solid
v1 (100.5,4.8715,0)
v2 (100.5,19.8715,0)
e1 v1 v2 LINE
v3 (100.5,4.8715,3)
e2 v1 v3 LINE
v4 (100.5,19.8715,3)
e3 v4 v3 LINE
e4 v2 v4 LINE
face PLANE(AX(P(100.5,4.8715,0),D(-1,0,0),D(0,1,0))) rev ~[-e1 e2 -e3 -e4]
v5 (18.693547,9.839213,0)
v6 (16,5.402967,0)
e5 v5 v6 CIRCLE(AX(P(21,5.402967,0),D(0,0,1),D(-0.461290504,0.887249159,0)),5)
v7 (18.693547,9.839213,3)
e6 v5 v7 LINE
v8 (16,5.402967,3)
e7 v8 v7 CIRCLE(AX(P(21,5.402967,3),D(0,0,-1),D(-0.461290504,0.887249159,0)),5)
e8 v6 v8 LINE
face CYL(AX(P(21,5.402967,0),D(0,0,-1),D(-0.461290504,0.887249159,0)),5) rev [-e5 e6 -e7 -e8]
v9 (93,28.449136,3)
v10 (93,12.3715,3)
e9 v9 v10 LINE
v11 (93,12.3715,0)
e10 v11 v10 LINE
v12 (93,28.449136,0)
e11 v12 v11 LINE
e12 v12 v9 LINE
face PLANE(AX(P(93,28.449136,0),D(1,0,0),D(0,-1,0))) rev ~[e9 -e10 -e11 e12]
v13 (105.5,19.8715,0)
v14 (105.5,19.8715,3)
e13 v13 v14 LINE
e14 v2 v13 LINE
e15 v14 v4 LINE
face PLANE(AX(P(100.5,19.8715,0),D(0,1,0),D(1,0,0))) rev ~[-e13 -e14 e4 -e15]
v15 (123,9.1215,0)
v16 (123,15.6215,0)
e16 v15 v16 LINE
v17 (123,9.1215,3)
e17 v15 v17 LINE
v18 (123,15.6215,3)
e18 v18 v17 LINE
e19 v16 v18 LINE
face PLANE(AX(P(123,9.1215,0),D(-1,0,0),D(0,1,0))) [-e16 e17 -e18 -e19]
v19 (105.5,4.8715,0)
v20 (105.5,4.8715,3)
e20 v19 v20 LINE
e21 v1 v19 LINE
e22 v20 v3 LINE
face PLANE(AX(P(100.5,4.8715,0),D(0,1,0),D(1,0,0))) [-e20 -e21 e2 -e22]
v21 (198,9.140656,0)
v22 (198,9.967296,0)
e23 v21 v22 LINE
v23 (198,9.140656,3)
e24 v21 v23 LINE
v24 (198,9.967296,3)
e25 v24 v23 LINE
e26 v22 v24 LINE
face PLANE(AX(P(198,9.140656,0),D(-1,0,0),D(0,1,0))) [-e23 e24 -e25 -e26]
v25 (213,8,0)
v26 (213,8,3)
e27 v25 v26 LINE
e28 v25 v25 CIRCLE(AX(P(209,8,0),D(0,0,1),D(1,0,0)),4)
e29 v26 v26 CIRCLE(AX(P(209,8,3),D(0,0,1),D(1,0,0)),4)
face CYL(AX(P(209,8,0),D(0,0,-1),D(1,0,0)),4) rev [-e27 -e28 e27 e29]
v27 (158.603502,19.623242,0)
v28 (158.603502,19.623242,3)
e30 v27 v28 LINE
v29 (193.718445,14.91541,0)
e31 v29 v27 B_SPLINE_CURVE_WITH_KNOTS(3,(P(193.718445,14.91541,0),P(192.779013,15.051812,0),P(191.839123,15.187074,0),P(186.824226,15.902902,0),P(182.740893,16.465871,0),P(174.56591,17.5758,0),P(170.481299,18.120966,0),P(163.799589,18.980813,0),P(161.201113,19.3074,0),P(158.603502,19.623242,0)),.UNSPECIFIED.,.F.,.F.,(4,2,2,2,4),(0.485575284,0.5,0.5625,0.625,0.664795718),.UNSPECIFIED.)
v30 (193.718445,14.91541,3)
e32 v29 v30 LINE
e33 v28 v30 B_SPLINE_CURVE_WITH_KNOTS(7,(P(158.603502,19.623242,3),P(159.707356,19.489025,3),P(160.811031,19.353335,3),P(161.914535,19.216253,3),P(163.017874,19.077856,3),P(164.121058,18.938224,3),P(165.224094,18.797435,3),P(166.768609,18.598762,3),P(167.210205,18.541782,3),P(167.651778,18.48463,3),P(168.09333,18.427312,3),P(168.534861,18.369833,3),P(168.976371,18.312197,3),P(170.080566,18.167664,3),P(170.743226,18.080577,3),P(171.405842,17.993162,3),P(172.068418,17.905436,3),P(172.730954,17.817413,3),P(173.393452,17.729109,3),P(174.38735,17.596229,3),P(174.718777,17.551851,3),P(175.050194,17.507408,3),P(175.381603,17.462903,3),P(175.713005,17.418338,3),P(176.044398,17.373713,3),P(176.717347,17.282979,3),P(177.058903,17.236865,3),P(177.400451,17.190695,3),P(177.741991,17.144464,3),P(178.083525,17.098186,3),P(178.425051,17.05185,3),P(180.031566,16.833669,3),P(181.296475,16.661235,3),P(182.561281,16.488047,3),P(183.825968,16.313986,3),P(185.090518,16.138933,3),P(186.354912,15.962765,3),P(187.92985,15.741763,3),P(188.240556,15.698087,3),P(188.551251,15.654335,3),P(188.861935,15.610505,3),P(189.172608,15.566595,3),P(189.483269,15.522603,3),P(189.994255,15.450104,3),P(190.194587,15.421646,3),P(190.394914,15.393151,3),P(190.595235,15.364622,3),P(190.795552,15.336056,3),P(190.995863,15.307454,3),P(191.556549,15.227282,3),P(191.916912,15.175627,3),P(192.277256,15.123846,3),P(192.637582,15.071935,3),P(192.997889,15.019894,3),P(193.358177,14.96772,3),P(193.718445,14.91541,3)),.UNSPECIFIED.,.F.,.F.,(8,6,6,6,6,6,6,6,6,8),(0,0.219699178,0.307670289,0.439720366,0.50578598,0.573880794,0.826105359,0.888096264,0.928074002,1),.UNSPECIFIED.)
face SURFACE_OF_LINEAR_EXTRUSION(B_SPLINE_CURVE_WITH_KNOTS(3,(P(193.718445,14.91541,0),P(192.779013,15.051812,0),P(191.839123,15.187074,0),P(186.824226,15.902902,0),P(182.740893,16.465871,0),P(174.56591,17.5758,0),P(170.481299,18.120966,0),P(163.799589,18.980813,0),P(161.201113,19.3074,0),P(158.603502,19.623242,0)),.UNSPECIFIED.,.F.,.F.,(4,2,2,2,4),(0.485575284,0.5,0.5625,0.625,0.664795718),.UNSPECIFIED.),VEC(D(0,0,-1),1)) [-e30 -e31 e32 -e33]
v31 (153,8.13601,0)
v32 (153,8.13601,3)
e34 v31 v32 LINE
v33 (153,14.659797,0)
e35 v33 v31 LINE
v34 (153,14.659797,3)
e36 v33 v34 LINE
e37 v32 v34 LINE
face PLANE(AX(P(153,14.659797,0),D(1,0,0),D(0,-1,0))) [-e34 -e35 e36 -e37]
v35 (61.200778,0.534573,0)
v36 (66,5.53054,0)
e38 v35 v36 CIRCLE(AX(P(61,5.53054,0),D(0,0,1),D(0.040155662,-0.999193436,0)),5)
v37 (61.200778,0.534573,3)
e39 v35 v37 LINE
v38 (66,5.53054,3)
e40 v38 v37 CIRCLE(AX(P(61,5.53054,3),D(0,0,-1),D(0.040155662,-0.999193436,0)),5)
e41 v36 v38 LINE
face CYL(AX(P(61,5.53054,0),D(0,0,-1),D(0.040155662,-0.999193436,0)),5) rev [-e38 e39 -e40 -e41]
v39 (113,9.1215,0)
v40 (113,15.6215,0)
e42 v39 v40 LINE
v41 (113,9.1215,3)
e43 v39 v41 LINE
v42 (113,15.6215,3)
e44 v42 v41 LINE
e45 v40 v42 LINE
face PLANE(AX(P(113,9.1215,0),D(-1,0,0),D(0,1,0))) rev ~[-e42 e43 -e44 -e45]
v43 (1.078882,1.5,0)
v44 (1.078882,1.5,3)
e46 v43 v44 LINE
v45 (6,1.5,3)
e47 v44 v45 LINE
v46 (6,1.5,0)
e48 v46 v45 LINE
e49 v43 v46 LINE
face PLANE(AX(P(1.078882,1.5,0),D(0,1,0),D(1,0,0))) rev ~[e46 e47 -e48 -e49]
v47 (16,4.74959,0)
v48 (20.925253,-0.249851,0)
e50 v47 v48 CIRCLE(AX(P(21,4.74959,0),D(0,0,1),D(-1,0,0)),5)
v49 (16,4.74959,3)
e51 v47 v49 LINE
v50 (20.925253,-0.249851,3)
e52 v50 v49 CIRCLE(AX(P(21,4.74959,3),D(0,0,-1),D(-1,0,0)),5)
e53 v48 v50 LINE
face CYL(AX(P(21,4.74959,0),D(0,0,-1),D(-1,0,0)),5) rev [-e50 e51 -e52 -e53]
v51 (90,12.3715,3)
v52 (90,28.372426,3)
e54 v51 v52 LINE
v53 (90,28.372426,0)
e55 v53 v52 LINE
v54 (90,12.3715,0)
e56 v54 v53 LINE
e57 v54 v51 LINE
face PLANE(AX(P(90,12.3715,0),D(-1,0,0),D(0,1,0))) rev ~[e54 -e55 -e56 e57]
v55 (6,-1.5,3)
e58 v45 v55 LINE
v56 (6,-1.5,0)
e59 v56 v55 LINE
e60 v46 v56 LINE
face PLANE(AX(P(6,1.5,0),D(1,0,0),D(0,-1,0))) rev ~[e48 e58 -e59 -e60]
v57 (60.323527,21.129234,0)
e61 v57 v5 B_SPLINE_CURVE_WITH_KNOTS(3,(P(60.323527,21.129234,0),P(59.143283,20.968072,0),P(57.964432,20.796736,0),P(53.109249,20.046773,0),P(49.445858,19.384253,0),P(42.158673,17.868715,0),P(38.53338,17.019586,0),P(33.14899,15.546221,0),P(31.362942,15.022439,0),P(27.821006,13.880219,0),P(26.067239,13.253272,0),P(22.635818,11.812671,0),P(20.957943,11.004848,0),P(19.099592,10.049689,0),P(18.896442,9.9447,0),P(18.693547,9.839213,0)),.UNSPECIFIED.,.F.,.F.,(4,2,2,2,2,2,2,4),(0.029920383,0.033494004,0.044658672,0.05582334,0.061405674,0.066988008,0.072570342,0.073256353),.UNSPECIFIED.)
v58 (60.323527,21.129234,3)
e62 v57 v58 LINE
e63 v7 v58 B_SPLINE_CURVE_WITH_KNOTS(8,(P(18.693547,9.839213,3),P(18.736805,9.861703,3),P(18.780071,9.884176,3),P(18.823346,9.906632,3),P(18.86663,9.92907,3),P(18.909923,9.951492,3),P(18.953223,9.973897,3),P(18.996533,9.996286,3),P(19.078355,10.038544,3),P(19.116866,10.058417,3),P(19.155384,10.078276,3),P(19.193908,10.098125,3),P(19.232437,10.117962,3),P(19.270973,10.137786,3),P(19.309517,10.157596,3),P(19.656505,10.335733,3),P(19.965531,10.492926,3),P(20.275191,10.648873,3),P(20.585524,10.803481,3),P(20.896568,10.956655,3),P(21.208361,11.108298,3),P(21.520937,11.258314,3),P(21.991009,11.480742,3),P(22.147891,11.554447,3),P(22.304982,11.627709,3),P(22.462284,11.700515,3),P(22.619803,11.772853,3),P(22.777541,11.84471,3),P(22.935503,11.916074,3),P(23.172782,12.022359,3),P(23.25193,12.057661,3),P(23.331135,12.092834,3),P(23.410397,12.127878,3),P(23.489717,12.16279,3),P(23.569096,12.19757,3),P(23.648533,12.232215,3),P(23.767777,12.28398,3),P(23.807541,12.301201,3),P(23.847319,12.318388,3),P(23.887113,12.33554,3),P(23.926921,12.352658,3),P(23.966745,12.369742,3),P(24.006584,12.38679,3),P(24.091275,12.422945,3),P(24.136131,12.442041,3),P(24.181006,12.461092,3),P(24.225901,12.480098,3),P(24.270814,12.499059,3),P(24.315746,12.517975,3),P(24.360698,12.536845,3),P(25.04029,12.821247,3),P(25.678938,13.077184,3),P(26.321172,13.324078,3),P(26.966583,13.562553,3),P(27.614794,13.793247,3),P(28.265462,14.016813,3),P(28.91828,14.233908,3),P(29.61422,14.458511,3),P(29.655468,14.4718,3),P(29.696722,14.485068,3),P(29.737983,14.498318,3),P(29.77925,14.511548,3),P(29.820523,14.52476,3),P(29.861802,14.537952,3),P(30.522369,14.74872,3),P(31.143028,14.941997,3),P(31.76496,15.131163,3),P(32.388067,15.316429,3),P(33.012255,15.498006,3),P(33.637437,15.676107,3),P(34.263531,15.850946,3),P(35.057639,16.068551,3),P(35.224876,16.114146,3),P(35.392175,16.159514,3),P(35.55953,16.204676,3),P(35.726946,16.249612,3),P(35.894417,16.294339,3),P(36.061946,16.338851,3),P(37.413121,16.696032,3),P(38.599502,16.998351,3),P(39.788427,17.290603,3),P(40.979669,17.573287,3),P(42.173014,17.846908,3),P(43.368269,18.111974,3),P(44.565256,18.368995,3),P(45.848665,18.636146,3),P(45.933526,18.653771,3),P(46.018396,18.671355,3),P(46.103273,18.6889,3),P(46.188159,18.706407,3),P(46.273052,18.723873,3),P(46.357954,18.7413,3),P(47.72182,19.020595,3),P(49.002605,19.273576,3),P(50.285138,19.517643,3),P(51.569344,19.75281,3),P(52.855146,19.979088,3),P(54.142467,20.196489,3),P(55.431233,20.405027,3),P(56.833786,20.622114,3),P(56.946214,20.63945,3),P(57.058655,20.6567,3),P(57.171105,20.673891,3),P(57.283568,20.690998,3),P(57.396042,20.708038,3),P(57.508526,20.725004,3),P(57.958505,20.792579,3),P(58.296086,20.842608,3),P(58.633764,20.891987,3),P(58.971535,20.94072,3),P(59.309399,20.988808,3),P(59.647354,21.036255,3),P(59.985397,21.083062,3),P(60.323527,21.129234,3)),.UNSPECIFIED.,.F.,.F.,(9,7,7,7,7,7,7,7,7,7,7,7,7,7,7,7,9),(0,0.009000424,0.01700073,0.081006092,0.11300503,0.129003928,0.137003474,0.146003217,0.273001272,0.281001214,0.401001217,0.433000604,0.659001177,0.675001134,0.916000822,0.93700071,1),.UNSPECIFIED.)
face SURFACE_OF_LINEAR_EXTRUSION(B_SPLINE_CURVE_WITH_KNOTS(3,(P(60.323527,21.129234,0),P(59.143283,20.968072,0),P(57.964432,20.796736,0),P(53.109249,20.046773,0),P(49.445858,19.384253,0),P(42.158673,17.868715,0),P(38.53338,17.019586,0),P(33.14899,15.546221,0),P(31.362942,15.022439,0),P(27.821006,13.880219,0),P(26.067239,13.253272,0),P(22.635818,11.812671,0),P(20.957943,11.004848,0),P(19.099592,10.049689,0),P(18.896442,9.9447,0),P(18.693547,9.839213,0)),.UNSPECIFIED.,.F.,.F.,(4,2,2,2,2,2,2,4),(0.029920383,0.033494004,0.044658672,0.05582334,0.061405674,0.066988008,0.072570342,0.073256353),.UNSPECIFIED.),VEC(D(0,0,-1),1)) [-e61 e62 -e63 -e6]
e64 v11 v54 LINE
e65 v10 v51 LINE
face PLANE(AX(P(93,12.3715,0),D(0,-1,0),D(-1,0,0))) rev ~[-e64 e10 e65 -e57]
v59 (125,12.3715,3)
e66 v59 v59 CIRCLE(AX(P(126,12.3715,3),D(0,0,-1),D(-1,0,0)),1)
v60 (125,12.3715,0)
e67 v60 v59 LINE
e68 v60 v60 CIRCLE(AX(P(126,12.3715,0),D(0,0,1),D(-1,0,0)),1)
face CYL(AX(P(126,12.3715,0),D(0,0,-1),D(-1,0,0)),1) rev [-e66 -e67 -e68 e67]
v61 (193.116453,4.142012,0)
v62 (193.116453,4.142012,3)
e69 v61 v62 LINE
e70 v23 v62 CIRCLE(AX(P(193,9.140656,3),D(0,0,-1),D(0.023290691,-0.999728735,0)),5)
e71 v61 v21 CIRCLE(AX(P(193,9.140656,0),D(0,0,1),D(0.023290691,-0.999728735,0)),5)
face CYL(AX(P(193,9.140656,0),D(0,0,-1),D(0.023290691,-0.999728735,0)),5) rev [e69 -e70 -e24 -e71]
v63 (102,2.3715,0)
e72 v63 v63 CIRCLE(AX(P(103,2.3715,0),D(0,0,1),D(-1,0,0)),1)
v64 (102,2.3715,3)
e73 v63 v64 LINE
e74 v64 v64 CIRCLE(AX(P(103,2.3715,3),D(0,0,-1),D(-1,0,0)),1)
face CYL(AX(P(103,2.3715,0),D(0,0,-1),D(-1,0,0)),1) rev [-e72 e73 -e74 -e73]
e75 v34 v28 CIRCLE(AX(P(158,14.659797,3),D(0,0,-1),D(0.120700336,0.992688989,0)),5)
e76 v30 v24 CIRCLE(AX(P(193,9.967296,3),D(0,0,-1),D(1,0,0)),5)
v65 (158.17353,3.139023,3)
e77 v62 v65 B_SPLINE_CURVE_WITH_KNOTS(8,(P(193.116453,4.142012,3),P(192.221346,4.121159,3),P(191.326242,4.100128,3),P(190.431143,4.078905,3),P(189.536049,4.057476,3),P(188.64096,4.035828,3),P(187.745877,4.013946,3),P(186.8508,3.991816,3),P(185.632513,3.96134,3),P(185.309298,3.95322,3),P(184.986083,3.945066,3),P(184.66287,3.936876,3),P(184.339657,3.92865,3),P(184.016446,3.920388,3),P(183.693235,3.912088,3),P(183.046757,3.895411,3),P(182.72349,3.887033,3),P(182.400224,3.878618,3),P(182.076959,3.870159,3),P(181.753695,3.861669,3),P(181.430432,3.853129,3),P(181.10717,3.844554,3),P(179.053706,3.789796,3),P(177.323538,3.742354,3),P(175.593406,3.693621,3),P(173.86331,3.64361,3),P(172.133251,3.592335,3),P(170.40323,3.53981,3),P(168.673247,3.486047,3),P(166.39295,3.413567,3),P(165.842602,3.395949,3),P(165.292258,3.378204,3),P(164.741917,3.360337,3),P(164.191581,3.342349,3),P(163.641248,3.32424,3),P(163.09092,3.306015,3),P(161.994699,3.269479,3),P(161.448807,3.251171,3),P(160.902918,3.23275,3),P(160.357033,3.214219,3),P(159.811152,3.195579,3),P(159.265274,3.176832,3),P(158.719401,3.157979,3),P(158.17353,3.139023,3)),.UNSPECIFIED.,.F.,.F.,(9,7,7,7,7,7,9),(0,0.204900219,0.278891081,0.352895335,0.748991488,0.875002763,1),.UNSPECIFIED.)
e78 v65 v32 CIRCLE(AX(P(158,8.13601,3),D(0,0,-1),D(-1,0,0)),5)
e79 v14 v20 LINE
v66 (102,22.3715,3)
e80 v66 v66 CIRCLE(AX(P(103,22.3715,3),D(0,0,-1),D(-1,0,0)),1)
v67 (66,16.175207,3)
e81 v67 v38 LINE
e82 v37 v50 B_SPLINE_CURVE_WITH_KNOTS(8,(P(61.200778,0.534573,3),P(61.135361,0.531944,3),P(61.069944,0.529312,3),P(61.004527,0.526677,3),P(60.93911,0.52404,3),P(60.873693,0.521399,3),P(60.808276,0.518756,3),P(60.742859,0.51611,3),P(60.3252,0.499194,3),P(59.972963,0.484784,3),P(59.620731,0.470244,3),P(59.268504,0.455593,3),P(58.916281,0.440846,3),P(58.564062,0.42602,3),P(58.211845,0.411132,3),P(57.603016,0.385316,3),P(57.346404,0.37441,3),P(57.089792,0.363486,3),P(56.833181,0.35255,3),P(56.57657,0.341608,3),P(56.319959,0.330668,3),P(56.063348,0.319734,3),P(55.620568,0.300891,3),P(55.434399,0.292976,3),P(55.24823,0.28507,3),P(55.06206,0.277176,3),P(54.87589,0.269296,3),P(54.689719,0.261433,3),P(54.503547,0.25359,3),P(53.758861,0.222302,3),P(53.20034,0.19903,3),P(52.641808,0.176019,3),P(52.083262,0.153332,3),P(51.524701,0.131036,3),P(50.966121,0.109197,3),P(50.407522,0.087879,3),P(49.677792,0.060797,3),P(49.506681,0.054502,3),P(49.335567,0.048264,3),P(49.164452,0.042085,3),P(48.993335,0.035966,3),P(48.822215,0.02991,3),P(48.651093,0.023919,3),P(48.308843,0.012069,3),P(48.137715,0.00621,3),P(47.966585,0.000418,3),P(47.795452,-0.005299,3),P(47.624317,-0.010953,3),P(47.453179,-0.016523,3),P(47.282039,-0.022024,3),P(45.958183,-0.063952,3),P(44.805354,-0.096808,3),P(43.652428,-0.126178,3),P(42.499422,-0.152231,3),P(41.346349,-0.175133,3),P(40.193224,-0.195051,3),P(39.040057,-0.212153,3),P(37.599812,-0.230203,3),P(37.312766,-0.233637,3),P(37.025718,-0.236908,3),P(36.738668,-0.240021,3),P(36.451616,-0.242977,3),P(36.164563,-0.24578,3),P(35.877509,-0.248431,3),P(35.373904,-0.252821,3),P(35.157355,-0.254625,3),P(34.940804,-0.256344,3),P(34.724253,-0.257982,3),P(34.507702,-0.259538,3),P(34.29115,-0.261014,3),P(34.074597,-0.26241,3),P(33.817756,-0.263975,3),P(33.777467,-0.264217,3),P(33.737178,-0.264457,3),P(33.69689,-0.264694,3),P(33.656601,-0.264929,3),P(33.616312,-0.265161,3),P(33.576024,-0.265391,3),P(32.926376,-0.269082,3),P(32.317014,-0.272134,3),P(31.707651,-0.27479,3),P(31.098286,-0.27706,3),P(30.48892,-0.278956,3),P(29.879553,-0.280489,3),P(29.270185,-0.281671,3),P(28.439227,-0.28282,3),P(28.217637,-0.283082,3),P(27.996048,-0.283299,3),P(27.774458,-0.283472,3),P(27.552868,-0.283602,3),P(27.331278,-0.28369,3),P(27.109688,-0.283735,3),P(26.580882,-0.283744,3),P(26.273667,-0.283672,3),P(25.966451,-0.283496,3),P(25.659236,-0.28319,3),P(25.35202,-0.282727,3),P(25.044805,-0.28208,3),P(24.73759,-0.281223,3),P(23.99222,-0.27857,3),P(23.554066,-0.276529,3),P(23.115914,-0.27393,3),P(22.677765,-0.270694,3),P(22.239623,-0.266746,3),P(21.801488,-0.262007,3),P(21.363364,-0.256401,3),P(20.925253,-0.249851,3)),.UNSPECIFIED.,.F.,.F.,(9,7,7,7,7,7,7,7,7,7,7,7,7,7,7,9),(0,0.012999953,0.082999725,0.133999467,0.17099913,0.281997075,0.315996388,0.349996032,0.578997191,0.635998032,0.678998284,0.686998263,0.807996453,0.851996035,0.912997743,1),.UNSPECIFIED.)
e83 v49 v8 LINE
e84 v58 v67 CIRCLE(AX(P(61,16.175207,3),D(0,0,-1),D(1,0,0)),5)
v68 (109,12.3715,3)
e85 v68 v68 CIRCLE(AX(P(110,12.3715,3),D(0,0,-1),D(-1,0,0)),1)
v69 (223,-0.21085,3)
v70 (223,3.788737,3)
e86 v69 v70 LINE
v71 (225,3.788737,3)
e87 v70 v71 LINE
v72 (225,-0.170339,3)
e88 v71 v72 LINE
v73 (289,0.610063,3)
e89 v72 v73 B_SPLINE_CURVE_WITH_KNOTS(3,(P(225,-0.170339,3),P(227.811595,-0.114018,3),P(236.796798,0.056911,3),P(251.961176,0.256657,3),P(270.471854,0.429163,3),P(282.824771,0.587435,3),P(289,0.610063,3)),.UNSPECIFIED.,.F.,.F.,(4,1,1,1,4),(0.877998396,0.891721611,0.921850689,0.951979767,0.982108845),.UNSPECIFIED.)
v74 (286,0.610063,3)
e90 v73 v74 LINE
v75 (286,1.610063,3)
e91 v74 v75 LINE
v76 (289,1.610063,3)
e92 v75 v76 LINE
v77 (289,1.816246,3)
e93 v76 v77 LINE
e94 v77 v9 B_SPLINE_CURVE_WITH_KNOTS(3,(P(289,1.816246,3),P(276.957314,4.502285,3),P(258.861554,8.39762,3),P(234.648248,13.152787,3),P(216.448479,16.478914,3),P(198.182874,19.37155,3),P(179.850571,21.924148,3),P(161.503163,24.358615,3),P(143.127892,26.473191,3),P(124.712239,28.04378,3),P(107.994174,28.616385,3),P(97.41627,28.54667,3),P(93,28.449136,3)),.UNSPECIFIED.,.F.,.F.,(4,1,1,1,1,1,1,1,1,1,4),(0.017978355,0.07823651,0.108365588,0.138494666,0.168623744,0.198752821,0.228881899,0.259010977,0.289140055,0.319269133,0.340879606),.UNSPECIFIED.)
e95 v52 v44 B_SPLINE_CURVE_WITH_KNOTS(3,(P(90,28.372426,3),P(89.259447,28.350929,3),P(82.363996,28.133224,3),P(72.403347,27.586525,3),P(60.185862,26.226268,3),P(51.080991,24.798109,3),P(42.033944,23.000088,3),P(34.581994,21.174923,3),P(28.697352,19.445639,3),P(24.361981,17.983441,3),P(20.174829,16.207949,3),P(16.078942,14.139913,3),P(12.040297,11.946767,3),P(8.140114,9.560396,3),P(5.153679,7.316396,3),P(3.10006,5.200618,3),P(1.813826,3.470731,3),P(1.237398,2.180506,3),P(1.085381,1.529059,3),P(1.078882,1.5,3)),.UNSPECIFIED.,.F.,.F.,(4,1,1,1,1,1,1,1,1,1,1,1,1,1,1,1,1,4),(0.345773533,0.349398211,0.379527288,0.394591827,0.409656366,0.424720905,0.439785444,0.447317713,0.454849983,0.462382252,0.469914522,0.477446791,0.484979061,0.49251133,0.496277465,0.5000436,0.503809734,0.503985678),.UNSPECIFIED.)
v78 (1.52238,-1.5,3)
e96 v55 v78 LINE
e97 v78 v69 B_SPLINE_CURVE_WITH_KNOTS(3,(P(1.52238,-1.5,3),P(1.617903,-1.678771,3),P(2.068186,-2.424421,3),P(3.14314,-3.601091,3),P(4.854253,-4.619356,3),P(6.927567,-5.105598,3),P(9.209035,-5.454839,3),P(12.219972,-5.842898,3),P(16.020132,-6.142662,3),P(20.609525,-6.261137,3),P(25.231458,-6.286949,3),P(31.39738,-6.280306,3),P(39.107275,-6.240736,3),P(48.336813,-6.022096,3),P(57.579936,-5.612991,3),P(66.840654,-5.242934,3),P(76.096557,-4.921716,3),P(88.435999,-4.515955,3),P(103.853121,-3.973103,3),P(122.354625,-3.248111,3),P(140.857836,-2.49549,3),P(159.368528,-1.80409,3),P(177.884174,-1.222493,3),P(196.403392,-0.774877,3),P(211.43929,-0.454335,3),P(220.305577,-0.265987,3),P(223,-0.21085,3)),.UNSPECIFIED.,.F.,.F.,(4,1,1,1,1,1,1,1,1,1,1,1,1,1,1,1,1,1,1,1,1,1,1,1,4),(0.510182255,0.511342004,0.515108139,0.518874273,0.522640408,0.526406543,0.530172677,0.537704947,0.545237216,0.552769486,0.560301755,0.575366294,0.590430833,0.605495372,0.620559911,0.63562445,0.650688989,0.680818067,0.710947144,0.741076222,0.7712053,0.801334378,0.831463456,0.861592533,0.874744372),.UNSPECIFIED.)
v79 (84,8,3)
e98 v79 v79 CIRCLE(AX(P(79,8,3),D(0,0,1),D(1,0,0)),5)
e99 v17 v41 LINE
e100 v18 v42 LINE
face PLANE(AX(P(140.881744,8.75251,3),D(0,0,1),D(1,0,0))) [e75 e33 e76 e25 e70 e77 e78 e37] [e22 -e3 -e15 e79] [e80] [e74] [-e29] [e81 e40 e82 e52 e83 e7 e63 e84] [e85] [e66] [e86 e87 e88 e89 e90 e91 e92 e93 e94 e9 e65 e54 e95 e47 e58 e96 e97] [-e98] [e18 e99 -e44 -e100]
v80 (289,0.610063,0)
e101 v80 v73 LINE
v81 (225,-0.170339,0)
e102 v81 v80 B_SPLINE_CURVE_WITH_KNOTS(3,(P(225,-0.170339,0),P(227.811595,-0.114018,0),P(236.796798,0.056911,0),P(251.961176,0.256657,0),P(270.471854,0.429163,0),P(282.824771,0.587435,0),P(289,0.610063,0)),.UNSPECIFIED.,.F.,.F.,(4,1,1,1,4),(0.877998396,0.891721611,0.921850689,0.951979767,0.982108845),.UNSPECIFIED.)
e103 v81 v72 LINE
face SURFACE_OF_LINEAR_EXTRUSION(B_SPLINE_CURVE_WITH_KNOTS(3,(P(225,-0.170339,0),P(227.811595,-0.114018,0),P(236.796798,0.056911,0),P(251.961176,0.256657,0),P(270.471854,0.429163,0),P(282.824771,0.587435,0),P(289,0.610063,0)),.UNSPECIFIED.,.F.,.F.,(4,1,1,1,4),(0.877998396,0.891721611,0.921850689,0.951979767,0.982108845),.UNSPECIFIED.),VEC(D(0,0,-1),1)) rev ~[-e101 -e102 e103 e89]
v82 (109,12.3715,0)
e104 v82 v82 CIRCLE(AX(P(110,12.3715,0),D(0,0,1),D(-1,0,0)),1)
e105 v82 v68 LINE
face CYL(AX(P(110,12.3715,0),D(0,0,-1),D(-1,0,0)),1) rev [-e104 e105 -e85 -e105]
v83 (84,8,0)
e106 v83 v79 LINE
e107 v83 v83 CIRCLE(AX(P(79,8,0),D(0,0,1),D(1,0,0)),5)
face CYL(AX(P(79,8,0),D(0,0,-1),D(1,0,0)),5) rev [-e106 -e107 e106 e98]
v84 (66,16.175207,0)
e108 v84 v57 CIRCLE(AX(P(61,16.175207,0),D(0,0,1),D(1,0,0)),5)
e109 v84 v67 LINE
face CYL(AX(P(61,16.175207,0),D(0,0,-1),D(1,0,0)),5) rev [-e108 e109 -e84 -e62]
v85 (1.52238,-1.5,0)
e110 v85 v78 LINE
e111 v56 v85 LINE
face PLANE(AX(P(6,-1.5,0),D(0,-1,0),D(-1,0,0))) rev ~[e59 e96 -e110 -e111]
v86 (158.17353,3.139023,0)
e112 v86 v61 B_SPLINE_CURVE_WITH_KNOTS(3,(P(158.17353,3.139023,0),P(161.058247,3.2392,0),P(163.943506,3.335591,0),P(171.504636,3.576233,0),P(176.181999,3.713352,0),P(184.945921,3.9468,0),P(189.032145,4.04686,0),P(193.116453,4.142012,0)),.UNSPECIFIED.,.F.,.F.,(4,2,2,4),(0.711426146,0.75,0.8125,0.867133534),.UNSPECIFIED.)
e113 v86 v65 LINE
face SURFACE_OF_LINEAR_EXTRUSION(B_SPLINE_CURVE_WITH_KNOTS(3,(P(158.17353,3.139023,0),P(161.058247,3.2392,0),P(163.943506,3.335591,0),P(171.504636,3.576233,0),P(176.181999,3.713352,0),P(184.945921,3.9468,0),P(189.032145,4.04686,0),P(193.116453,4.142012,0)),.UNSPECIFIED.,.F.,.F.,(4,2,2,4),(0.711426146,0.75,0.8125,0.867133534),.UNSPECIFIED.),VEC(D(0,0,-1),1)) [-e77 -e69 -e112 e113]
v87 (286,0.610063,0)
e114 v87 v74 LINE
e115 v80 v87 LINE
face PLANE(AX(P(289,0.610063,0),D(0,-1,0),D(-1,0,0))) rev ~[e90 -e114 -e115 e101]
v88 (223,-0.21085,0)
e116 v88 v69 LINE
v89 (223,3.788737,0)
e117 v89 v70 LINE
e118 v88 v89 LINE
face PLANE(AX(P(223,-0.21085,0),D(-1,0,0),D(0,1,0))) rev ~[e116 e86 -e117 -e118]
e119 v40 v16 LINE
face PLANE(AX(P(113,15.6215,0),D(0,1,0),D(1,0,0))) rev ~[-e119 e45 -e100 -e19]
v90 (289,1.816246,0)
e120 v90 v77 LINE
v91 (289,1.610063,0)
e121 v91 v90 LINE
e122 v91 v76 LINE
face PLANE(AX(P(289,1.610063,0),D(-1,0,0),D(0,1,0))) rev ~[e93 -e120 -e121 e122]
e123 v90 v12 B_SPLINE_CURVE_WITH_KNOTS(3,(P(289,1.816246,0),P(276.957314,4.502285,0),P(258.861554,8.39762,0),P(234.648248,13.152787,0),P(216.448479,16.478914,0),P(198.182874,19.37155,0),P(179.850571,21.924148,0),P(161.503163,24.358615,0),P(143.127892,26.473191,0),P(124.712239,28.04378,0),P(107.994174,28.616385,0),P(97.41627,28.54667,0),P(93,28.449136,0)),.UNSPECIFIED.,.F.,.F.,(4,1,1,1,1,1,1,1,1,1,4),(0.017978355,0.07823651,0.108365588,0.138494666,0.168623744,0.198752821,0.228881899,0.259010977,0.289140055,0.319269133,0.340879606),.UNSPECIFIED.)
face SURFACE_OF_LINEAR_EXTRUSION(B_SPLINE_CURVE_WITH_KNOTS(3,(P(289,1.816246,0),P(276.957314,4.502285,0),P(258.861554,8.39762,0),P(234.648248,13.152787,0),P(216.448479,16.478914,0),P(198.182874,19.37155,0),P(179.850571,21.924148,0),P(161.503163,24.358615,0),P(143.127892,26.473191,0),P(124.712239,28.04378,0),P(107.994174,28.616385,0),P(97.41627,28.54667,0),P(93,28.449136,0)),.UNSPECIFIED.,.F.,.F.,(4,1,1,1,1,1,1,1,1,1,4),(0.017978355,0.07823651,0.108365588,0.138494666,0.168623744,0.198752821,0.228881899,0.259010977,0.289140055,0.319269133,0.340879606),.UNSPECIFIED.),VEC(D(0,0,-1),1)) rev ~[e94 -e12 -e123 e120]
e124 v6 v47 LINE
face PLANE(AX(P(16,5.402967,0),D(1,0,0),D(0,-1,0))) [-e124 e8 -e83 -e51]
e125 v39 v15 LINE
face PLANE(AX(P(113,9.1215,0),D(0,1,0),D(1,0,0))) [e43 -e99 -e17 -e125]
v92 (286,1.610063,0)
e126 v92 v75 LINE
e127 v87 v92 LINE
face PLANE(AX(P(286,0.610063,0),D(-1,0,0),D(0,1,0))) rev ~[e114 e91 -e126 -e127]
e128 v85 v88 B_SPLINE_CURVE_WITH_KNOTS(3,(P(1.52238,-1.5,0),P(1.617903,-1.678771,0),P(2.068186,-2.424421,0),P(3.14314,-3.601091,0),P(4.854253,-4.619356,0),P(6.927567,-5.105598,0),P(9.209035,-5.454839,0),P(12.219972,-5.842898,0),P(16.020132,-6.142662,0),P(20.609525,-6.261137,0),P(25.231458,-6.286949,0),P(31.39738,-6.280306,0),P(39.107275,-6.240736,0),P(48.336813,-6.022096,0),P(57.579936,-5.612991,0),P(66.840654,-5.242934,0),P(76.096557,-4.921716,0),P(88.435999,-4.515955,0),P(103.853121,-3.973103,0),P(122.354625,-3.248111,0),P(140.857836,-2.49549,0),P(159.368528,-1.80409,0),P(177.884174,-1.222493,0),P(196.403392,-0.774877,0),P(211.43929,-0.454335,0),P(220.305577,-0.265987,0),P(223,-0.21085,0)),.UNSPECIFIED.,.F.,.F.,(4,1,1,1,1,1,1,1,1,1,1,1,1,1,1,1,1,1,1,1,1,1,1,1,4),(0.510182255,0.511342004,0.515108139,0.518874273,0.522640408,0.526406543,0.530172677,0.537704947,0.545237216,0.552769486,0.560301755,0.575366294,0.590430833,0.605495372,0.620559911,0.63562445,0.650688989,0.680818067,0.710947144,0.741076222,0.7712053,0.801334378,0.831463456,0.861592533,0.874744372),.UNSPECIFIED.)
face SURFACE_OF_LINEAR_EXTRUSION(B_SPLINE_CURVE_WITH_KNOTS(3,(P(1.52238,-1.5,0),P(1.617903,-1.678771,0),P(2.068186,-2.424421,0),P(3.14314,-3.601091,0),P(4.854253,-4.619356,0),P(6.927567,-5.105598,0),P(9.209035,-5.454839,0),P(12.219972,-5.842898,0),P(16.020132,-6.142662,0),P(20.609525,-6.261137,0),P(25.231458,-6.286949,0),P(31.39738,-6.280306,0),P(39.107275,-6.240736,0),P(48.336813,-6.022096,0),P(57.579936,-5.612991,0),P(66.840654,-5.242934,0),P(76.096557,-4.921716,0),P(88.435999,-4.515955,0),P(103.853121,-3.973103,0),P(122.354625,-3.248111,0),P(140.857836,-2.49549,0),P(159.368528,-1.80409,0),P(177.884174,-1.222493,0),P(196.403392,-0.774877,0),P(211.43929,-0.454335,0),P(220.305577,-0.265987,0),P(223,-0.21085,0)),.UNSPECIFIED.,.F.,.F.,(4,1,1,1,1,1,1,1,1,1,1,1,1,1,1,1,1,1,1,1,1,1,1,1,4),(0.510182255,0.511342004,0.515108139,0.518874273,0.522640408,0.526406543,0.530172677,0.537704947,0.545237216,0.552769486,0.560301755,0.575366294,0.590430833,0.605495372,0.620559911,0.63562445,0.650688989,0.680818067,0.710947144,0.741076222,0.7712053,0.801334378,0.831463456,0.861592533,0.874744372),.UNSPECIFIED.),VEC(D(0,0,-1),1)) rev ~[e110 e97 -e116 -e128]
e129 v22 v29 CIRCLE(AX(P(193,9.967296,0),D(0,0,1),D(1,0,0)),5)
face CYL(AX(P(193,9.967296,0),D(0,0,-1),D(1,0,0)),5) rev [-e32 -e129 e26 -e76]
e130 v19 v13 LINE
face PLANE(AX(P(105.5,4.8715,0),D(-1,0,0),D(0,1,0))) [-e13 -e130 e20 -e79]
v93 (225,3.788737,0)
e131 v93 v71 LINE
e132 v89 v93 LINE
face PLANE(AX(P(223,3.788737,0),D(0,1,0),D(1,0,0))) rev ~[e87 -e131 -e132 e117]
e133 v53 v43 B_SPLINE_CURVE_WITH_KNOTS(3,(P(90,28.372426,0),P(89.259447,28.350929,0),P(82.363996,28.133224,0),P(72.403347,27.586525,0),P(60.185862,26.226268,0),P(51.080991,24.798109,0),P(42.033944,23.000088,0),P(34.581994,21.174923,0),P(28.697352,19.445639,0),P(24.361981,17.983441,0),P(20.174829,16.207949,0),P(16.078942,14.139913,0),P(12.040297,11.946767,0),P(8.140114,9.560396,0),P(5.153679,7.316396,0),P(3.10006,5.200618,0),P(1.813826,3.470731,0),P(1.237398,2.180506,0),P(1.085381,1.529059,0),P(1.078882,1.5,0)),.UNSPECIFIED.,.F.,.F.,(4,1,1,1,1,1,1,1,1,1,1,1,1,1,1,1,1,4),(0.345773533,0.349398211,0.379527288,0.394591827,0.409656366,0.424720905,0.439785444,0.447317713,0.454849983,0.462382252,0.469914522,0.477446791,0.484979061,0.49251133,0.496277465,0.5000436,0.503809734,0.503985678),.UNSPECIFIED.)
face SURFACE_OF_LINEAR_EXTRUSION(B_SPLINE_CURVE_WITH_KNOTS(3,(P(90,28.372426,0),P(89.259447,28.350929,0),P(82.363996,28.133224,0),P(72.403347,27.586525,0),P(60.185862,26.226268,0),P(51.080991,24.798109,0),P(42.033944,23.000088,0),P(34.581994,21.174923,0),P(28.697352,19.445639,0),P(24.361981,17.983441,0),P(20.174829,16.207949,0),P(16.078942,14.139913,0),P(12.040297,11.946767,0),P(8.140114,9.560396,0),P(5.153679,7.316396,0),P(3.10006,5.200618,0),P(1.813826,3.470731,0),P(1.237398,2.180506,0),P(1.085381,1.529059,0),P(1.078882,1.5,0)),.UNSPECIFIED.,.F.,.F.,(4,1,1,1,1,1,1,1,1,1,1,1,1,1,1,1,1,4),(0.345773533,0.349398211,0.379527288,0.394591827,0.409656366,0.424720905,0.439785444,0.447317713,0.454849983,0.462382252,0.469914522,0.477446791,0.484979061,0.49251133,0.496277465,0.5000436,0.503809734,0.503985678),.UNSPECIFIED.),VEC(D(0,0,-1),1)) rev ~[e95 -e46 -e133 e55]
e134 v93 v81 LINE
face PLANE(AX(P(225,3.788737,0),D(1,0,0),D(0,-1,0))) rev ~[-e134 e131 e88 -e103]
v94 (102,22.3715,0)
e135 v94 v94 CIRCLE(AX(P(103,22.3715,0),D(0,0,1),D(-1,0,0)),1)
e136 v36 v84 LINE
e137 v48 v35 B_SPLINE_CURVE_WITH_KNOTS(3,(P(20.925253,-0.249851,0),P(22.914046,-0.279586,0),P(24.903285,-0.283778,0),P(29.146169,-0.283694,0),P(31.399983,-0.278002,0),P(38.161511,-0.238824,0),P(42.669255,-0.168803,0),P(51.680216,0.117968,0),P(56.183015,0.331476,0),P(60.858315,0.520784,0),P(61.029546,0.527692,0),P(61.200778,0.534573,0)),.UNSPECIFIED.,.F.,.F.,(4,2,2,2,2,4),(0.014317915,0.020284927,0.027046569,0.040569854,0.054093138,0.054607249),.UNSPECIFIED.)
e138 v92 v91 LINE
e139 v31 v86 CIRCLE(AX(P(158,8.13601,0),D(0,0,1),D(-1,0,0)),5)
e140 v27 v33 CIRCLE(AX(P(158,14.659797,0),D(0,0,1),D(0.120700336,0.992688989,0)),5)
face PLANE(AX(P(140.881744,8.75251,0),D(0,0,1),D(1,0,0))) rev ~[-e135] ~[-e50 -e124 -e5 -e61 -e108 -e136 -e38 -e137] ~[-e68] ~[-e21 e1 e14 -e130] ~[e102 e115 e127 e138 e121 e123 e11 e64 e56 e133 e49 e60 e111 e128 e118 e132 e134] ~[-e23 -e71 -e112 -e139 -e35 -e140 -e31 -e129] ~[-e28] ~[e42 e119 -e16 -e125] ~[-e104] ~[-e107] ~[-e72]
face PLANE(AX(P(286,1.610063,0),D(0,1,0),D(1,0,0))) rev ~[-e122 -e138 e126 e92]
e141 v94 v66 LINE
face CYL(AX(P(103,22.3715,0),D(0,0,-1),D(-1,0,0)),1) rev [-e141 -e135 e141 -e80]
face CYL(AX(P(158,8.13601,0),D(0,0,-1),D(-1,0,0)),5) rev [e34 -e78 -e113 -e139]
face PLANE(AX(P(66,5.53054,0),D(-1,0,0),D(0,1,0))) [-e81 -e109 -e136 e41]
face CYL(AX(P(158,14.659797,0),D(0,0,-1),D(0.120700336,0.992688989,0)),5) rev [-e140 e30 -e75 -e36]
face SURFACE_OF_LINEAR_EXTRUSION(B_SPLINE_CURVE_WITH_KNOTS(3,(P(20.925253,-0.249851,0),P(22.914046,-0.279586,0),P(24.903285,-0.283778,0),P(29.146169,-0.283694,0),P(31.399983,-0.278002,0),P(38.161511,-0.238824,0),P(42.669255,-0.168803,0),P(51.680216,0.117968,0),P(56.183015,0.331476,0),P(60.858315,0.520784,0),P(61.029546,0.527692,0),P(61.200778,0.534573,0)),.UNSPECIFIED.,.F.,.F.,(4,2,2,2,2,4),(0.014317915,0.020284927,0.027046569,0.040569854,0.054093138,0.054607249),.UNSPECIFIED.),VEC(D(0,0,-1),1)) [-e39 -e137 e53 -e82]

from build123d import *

# Parameters (mm, degrees)
SKETCH_1_R          = 5
SKETCH_1_R_2        = 4
EXTRUDE_1_DEPTH     = 3
SKETCH_3_R          = 1
SKETCH_3_W          = 10
SKETCH_3_H          = 6.5
SKETCH_3_W_2        = 5
SKETCH_3_H_2        = 15
CUT_EXTRUDE_2_DEPTH = 291.422386836


with BuildPart() as part:
    # 草图1 → 凸台-拉伸1 (new body)
    with BuildSketch(Plane.XY):
        with BuildLine():
            Line((90, 12.3715), (90, 28.372426217))
            add(Edge.make_bspline(
                [(90, 28.372426217), (89.259446982, 28.350928743), (82.363996343, 28.13322439), (72.403347361, 27.586524792), (60.185862052, 26.226268085), (51.080991088, 24.79810862), (42.033943524, 23.000087944), (34.581994337, 21.174922903), (28.697351661, 19.44563851), (24.361981086, 17.983441115), (20.174828998, 16.207949367), (16.078941989, 14.139912989), (12.040296713, 11.946766626), (8.14011433, 9.56039573), (5.153679337, 7.316395724), (3.100060439, 5.200618052), (1.813825976, 3.470730924), (1.237398467, 2.180506339), (1.085380705, 1.529058937), (1.078882286, 1.5)],
                knots=[0.345773533, 0.345773533, 0.345773533, 0.345773533, 0.349398211, 0.379527288, 0.394591827, 0.409656366, 0.424720905, 0.439785444, 0.447317713, 0.454849983, 0.462382252, 0.469914522, 0.477446791, 0.484979061, 0.49251133, 0.496277465, 0.5000436, 0.503809734, 0.503985678, 0.503985678, 0.503985678, 0.503985678], degree=3))
            Line((1.078882286, 1.5), (6, 1.5))
            Line((6, 1.5), (6, -1.5))
            Line((6, -1.5), (1.522379628, -1.5))
            add(Edge.make_bspline(
                [(1.522379628, -1.5), (1.617903461, -1.678770523), (2.068186491, -2.42442122), (3.143139608, -3.601090845), (4.854253, -4.619355756), (6.927567017, -5.105597911), (9.209034621, -5.454839075), (12.219971865, -5.84289763), (16.020132359, -6.14266222), (20.609524976, -6.2611368), (25.231457517, -6.286948592), (31.397380169, -6.280305851), (39.107274969, -6.240736398), (48.336813051, -6.022096429), (57.579935967, -5.612990736), (66.840654471, -5.242934226), (76.096556555, -4.921715721), (88.435998513, -4.515955408), (103.853120896, -3.973102953), (122.354625015, -3.248110744), (140.857835973, -2.495489966), (159.368527813, -1.804089638), (177.884173919, -1.222493213), (196.4033921, -0.774877257), (211.439290174, -0.454334834), (220.305576898, -0.265987383), (223, -0.210849605)],
                knots=[0.510182255, 0.510182255, 0.510182255, 0.510182255, 0.511342004, 0.515108139, 0.518874273, 0.522640408, 0.526406543, 0.530172677, 0.537704947, 0.545237216, 0.552769486, 0.560301755, 0.575366294, 0.590430833, 0.605495372, 0.620559911, 0.63562445, 0.650688989, 0.680818067, 0.710947144, 0.741076222, 0.7712053, 0.801334378, 0.831463456, 0.861592533, 0.874744372, 0.874744372, 0.874744372, 0.874744372], degree=3))
            Line((223, -0.210849605), (223, 3.788737263))
            Line((223, 3.788737263), (225, 3.788737263))
            Line((225, 3.788737263), (225, -0.170338801))
            add(Edge.make_bspline(
                [(225, -0.170338801), (227.811595191, -0.114017747), (236.796798206, 0.056910764), (251.961175933, 0.256656825), (270.471854229, 0.429163033), (282.824771355, 0.587434741), (289, 0.610062865)],
                knots=[0.877998396, 0.877998396, 0.877998396, 0.877998396, 0.891721611, 0.921850689, 0.951979767, 0.982108845, 0.982108845, 0.982108845, 0.982108845], degree=3))
            Line((289, 0.610062865), (286, 0.610062865))
            Line((286, 0.610062865), (286, 1.610062865))
            Line((286, 1.610062865), (289, 1.610062865))
            Line((289, 1.610062865), (289, 1.816246039))
            add(Edge.make_bspline(
                [(289, 1.816246039), (276.957314444, 4.502285023), (258.861554155, 8.397620333), (234.648247971, 13.152786595), (216.448478593, 16.478914183), (198.182873559, 19.371550405), (179.850571346, 21.924148488), (161.503162682, 24.358614825), (143.127892269, 26.473190985), (124.712239059, 28.043780086), (107.994173705, 28.616385423), (97.416270032, 28.546670082), (93, 28.44913561)],
                knots=[0.017978355, 0.017978355, 0.017978355, 0.017978355, 0.07823651, 0.108365588, 0.138494666, 0.168623744, 0.198752821, 0.228881899, 0.259010977, 0.289140055, 0.319269133, 0.340879606, 0.340879606, 0.340879606, 0.340879606], degree=3))
            Line((93, 28.44913561), (93, 12.3715))
            Line((93, 12.3715), (90, 12.3715))
        make_face()
        with Locations((79, 8)):
            Circle(SKETCH_1_R, mode=Mode.SUBTRACT)
        with Locations((209, 8)):
            Circle(SKETCH_1_R_2, mode=Mode.SUBTRACT)
    extrude(amount=EXTRUDE_1_DEPTH)

    # 草图3 → 切除-拉伸2 (cut, through all)
    with BuildSketch(Plane.XY):
        with Locations(Location((110, 12.3715, 0), (0, 0, 180))):
            Circle(SKETCH_3_R)
        with Locations(Location((126, 12.3715, 0), (0, 0, 180))):
            Circle(SKETCH_3_R)
        with Locations(Location((103, 22.3715, 0), (0, 0, 180))):
            Circle(SKETCH_3_R)
        with Locations(Location((103, 2.3715, 0), (0, 0, 180))):
            Circle(SKETCH_3_R)
        with BuildLine():
            Line((16, 5.402967421), (16, 4.74959002))
            ThreePointArc((16, 4.74959002), (17.438137187, 1.240582567), (20.925253321, -0.249851242))
            add(Edge.make_bspline(
                [(20.925253321, -0.249851242), (22.914045789, -0.279585692), (24.903284625, -0.283778057), (29.14616948, -0.28369414), (31.399982567, -0.278002295), (38.161511328, -0.238823637), (42.669255398, -0.168803371), (51.680216376, 0.117967683), (56.183014764, 0.33147635), (60.85831542, 0.520784363), (61.02954636, 0.527691534), (61.200778311, 0.534573017)],
                knots=[0.014317915, 0.014317915, 0.014317915, 0.014317915, 0.020284927, 0.020284927, 0.027046569, 0.027046569, 0.040569854, 0.040569854, 0.054093138, 0.054093138, 0.054607249, 0.054607249, 0.054607249, 0.054607249], degree=3))
            ThreePointArc((61.200778311, 0.534573017), (64.605821096, 2.066719442), (66, 5.530540197))
            Line((66, 5.530540197), (66, 16.175207171))
            ThreePointArc((66, 16.175207171), (64.287676463, 19.942325894), (60.32352661, 21.129234195))
            add(Edge.make_bspline(
                [(60.32352661, 21.129234195), (59.143282742, 20.968071656), (57.964431768, 20.796736398), (53.109249428, 20.046773379), (49.445857595, 19.384253181), (42.158673028, 17.868714577), (38.533379611, 17.019586343), (33.148990447, 15.546220745), (31.362942012, 15.022439399), (27.821005995, 13.880218625), (26.067238608, 13.253271835), (22.635818059, 11.812670552), (20.957942753, 11.004847704), (19.099592195, 10.049689097), (18.896441621, 9.944700093), (18.693547477, 9.839213217)],
                knots=[0.029920383, 0.029920383, 0.029920383, 0.029920383, 0.033494004, 0.033494004, 0.044658672, 0.044658672, 0.05582334, 0.05582334, 0.061405674, 0.061405674, 0.066988008, 0.066988008, 0.072570342, 0.072570342, 0.073256353, 0.073256353, 0.073256353, 0.073256353], degree=3))
            ThreePointArc((18.693547477, 9.839213217), (16.726110517, 7.997937304), (16, 5.402967421))
        make_face()
        with Locations((118, 12.3715)):
            Rectangle(SKETCH_3_W, SKETCH_3_H)
        with Locations((103, 12.3715)):
            Rectangle(SKETCH_3_W_2, SKETCH_3_H_2)
        with BuildLine():
            Line((153, 14.659796962), (153, 8.136010376))
            ThreePointArc((153, 8.136010376), (154.52636013, 4.539647484), (158.17353042, 3.139022564))
            add(Edge.make_bspline(
                [(158.17353042, 3.139022564), (161.058246521, 3.239200114), (163.943505856, 3.335590583), (171.504636491, 3.576232826), (176.18199895, 3.713351663), (184.945921303, 3.946800138), (189.03214497, 4.046860263), (193.116453453, 4.14201244)],
                knots=[0.711426146, 0.711426146, 0.711426146, 0.711426146, 0.75, 0.75, 0.8125, 0.8125, 0.867133534, 0.867133534, 0.867133534, 0.867133534], degree=3))
            ThreePointArc((193.116453453, 4.14201244), (196.576469437, 5.64653729), (198, 9.140656115))
            Line((198, 9.140656115), (198, 9.967295711))
            ThreePointArc((198, 9.967295711), (196.781019979, 13.238975389), (193.718444833, 14.915410202))
            add(Edge.make_bspline(
                [(193.718444833, 14.915410202), (192.779013077, 15.051811632), (191.839123333, 15.187073825), (186.824226186, 15.902901834), (182.740892869, 16.465870736), (174.565909682, 17.575800313), (170.481299177, 18.120965891), (163.799588722, 18.980812945), (161.201113289, 19.307400191), (158.603501679, 19.623241907)],
                knots=[0.485575284, 0.485575284, 0.485575284, 0.485575284, 0.5, 0.5, 0.5625, 0.5625, 0.625, 0.625, 0.664795718, 0.664795718, 0.664795718, 0.664795718], degree=3))
            ThreePointArc((158.603501679, 19.623241907), (154.684695217, 18.402623995), (153, 14.659796962))
        make_face()
    extrude(amount=CUT_EXTRUDE_2_DEPTH, mode=Mode.SUBTRACT)


solid = part.part
